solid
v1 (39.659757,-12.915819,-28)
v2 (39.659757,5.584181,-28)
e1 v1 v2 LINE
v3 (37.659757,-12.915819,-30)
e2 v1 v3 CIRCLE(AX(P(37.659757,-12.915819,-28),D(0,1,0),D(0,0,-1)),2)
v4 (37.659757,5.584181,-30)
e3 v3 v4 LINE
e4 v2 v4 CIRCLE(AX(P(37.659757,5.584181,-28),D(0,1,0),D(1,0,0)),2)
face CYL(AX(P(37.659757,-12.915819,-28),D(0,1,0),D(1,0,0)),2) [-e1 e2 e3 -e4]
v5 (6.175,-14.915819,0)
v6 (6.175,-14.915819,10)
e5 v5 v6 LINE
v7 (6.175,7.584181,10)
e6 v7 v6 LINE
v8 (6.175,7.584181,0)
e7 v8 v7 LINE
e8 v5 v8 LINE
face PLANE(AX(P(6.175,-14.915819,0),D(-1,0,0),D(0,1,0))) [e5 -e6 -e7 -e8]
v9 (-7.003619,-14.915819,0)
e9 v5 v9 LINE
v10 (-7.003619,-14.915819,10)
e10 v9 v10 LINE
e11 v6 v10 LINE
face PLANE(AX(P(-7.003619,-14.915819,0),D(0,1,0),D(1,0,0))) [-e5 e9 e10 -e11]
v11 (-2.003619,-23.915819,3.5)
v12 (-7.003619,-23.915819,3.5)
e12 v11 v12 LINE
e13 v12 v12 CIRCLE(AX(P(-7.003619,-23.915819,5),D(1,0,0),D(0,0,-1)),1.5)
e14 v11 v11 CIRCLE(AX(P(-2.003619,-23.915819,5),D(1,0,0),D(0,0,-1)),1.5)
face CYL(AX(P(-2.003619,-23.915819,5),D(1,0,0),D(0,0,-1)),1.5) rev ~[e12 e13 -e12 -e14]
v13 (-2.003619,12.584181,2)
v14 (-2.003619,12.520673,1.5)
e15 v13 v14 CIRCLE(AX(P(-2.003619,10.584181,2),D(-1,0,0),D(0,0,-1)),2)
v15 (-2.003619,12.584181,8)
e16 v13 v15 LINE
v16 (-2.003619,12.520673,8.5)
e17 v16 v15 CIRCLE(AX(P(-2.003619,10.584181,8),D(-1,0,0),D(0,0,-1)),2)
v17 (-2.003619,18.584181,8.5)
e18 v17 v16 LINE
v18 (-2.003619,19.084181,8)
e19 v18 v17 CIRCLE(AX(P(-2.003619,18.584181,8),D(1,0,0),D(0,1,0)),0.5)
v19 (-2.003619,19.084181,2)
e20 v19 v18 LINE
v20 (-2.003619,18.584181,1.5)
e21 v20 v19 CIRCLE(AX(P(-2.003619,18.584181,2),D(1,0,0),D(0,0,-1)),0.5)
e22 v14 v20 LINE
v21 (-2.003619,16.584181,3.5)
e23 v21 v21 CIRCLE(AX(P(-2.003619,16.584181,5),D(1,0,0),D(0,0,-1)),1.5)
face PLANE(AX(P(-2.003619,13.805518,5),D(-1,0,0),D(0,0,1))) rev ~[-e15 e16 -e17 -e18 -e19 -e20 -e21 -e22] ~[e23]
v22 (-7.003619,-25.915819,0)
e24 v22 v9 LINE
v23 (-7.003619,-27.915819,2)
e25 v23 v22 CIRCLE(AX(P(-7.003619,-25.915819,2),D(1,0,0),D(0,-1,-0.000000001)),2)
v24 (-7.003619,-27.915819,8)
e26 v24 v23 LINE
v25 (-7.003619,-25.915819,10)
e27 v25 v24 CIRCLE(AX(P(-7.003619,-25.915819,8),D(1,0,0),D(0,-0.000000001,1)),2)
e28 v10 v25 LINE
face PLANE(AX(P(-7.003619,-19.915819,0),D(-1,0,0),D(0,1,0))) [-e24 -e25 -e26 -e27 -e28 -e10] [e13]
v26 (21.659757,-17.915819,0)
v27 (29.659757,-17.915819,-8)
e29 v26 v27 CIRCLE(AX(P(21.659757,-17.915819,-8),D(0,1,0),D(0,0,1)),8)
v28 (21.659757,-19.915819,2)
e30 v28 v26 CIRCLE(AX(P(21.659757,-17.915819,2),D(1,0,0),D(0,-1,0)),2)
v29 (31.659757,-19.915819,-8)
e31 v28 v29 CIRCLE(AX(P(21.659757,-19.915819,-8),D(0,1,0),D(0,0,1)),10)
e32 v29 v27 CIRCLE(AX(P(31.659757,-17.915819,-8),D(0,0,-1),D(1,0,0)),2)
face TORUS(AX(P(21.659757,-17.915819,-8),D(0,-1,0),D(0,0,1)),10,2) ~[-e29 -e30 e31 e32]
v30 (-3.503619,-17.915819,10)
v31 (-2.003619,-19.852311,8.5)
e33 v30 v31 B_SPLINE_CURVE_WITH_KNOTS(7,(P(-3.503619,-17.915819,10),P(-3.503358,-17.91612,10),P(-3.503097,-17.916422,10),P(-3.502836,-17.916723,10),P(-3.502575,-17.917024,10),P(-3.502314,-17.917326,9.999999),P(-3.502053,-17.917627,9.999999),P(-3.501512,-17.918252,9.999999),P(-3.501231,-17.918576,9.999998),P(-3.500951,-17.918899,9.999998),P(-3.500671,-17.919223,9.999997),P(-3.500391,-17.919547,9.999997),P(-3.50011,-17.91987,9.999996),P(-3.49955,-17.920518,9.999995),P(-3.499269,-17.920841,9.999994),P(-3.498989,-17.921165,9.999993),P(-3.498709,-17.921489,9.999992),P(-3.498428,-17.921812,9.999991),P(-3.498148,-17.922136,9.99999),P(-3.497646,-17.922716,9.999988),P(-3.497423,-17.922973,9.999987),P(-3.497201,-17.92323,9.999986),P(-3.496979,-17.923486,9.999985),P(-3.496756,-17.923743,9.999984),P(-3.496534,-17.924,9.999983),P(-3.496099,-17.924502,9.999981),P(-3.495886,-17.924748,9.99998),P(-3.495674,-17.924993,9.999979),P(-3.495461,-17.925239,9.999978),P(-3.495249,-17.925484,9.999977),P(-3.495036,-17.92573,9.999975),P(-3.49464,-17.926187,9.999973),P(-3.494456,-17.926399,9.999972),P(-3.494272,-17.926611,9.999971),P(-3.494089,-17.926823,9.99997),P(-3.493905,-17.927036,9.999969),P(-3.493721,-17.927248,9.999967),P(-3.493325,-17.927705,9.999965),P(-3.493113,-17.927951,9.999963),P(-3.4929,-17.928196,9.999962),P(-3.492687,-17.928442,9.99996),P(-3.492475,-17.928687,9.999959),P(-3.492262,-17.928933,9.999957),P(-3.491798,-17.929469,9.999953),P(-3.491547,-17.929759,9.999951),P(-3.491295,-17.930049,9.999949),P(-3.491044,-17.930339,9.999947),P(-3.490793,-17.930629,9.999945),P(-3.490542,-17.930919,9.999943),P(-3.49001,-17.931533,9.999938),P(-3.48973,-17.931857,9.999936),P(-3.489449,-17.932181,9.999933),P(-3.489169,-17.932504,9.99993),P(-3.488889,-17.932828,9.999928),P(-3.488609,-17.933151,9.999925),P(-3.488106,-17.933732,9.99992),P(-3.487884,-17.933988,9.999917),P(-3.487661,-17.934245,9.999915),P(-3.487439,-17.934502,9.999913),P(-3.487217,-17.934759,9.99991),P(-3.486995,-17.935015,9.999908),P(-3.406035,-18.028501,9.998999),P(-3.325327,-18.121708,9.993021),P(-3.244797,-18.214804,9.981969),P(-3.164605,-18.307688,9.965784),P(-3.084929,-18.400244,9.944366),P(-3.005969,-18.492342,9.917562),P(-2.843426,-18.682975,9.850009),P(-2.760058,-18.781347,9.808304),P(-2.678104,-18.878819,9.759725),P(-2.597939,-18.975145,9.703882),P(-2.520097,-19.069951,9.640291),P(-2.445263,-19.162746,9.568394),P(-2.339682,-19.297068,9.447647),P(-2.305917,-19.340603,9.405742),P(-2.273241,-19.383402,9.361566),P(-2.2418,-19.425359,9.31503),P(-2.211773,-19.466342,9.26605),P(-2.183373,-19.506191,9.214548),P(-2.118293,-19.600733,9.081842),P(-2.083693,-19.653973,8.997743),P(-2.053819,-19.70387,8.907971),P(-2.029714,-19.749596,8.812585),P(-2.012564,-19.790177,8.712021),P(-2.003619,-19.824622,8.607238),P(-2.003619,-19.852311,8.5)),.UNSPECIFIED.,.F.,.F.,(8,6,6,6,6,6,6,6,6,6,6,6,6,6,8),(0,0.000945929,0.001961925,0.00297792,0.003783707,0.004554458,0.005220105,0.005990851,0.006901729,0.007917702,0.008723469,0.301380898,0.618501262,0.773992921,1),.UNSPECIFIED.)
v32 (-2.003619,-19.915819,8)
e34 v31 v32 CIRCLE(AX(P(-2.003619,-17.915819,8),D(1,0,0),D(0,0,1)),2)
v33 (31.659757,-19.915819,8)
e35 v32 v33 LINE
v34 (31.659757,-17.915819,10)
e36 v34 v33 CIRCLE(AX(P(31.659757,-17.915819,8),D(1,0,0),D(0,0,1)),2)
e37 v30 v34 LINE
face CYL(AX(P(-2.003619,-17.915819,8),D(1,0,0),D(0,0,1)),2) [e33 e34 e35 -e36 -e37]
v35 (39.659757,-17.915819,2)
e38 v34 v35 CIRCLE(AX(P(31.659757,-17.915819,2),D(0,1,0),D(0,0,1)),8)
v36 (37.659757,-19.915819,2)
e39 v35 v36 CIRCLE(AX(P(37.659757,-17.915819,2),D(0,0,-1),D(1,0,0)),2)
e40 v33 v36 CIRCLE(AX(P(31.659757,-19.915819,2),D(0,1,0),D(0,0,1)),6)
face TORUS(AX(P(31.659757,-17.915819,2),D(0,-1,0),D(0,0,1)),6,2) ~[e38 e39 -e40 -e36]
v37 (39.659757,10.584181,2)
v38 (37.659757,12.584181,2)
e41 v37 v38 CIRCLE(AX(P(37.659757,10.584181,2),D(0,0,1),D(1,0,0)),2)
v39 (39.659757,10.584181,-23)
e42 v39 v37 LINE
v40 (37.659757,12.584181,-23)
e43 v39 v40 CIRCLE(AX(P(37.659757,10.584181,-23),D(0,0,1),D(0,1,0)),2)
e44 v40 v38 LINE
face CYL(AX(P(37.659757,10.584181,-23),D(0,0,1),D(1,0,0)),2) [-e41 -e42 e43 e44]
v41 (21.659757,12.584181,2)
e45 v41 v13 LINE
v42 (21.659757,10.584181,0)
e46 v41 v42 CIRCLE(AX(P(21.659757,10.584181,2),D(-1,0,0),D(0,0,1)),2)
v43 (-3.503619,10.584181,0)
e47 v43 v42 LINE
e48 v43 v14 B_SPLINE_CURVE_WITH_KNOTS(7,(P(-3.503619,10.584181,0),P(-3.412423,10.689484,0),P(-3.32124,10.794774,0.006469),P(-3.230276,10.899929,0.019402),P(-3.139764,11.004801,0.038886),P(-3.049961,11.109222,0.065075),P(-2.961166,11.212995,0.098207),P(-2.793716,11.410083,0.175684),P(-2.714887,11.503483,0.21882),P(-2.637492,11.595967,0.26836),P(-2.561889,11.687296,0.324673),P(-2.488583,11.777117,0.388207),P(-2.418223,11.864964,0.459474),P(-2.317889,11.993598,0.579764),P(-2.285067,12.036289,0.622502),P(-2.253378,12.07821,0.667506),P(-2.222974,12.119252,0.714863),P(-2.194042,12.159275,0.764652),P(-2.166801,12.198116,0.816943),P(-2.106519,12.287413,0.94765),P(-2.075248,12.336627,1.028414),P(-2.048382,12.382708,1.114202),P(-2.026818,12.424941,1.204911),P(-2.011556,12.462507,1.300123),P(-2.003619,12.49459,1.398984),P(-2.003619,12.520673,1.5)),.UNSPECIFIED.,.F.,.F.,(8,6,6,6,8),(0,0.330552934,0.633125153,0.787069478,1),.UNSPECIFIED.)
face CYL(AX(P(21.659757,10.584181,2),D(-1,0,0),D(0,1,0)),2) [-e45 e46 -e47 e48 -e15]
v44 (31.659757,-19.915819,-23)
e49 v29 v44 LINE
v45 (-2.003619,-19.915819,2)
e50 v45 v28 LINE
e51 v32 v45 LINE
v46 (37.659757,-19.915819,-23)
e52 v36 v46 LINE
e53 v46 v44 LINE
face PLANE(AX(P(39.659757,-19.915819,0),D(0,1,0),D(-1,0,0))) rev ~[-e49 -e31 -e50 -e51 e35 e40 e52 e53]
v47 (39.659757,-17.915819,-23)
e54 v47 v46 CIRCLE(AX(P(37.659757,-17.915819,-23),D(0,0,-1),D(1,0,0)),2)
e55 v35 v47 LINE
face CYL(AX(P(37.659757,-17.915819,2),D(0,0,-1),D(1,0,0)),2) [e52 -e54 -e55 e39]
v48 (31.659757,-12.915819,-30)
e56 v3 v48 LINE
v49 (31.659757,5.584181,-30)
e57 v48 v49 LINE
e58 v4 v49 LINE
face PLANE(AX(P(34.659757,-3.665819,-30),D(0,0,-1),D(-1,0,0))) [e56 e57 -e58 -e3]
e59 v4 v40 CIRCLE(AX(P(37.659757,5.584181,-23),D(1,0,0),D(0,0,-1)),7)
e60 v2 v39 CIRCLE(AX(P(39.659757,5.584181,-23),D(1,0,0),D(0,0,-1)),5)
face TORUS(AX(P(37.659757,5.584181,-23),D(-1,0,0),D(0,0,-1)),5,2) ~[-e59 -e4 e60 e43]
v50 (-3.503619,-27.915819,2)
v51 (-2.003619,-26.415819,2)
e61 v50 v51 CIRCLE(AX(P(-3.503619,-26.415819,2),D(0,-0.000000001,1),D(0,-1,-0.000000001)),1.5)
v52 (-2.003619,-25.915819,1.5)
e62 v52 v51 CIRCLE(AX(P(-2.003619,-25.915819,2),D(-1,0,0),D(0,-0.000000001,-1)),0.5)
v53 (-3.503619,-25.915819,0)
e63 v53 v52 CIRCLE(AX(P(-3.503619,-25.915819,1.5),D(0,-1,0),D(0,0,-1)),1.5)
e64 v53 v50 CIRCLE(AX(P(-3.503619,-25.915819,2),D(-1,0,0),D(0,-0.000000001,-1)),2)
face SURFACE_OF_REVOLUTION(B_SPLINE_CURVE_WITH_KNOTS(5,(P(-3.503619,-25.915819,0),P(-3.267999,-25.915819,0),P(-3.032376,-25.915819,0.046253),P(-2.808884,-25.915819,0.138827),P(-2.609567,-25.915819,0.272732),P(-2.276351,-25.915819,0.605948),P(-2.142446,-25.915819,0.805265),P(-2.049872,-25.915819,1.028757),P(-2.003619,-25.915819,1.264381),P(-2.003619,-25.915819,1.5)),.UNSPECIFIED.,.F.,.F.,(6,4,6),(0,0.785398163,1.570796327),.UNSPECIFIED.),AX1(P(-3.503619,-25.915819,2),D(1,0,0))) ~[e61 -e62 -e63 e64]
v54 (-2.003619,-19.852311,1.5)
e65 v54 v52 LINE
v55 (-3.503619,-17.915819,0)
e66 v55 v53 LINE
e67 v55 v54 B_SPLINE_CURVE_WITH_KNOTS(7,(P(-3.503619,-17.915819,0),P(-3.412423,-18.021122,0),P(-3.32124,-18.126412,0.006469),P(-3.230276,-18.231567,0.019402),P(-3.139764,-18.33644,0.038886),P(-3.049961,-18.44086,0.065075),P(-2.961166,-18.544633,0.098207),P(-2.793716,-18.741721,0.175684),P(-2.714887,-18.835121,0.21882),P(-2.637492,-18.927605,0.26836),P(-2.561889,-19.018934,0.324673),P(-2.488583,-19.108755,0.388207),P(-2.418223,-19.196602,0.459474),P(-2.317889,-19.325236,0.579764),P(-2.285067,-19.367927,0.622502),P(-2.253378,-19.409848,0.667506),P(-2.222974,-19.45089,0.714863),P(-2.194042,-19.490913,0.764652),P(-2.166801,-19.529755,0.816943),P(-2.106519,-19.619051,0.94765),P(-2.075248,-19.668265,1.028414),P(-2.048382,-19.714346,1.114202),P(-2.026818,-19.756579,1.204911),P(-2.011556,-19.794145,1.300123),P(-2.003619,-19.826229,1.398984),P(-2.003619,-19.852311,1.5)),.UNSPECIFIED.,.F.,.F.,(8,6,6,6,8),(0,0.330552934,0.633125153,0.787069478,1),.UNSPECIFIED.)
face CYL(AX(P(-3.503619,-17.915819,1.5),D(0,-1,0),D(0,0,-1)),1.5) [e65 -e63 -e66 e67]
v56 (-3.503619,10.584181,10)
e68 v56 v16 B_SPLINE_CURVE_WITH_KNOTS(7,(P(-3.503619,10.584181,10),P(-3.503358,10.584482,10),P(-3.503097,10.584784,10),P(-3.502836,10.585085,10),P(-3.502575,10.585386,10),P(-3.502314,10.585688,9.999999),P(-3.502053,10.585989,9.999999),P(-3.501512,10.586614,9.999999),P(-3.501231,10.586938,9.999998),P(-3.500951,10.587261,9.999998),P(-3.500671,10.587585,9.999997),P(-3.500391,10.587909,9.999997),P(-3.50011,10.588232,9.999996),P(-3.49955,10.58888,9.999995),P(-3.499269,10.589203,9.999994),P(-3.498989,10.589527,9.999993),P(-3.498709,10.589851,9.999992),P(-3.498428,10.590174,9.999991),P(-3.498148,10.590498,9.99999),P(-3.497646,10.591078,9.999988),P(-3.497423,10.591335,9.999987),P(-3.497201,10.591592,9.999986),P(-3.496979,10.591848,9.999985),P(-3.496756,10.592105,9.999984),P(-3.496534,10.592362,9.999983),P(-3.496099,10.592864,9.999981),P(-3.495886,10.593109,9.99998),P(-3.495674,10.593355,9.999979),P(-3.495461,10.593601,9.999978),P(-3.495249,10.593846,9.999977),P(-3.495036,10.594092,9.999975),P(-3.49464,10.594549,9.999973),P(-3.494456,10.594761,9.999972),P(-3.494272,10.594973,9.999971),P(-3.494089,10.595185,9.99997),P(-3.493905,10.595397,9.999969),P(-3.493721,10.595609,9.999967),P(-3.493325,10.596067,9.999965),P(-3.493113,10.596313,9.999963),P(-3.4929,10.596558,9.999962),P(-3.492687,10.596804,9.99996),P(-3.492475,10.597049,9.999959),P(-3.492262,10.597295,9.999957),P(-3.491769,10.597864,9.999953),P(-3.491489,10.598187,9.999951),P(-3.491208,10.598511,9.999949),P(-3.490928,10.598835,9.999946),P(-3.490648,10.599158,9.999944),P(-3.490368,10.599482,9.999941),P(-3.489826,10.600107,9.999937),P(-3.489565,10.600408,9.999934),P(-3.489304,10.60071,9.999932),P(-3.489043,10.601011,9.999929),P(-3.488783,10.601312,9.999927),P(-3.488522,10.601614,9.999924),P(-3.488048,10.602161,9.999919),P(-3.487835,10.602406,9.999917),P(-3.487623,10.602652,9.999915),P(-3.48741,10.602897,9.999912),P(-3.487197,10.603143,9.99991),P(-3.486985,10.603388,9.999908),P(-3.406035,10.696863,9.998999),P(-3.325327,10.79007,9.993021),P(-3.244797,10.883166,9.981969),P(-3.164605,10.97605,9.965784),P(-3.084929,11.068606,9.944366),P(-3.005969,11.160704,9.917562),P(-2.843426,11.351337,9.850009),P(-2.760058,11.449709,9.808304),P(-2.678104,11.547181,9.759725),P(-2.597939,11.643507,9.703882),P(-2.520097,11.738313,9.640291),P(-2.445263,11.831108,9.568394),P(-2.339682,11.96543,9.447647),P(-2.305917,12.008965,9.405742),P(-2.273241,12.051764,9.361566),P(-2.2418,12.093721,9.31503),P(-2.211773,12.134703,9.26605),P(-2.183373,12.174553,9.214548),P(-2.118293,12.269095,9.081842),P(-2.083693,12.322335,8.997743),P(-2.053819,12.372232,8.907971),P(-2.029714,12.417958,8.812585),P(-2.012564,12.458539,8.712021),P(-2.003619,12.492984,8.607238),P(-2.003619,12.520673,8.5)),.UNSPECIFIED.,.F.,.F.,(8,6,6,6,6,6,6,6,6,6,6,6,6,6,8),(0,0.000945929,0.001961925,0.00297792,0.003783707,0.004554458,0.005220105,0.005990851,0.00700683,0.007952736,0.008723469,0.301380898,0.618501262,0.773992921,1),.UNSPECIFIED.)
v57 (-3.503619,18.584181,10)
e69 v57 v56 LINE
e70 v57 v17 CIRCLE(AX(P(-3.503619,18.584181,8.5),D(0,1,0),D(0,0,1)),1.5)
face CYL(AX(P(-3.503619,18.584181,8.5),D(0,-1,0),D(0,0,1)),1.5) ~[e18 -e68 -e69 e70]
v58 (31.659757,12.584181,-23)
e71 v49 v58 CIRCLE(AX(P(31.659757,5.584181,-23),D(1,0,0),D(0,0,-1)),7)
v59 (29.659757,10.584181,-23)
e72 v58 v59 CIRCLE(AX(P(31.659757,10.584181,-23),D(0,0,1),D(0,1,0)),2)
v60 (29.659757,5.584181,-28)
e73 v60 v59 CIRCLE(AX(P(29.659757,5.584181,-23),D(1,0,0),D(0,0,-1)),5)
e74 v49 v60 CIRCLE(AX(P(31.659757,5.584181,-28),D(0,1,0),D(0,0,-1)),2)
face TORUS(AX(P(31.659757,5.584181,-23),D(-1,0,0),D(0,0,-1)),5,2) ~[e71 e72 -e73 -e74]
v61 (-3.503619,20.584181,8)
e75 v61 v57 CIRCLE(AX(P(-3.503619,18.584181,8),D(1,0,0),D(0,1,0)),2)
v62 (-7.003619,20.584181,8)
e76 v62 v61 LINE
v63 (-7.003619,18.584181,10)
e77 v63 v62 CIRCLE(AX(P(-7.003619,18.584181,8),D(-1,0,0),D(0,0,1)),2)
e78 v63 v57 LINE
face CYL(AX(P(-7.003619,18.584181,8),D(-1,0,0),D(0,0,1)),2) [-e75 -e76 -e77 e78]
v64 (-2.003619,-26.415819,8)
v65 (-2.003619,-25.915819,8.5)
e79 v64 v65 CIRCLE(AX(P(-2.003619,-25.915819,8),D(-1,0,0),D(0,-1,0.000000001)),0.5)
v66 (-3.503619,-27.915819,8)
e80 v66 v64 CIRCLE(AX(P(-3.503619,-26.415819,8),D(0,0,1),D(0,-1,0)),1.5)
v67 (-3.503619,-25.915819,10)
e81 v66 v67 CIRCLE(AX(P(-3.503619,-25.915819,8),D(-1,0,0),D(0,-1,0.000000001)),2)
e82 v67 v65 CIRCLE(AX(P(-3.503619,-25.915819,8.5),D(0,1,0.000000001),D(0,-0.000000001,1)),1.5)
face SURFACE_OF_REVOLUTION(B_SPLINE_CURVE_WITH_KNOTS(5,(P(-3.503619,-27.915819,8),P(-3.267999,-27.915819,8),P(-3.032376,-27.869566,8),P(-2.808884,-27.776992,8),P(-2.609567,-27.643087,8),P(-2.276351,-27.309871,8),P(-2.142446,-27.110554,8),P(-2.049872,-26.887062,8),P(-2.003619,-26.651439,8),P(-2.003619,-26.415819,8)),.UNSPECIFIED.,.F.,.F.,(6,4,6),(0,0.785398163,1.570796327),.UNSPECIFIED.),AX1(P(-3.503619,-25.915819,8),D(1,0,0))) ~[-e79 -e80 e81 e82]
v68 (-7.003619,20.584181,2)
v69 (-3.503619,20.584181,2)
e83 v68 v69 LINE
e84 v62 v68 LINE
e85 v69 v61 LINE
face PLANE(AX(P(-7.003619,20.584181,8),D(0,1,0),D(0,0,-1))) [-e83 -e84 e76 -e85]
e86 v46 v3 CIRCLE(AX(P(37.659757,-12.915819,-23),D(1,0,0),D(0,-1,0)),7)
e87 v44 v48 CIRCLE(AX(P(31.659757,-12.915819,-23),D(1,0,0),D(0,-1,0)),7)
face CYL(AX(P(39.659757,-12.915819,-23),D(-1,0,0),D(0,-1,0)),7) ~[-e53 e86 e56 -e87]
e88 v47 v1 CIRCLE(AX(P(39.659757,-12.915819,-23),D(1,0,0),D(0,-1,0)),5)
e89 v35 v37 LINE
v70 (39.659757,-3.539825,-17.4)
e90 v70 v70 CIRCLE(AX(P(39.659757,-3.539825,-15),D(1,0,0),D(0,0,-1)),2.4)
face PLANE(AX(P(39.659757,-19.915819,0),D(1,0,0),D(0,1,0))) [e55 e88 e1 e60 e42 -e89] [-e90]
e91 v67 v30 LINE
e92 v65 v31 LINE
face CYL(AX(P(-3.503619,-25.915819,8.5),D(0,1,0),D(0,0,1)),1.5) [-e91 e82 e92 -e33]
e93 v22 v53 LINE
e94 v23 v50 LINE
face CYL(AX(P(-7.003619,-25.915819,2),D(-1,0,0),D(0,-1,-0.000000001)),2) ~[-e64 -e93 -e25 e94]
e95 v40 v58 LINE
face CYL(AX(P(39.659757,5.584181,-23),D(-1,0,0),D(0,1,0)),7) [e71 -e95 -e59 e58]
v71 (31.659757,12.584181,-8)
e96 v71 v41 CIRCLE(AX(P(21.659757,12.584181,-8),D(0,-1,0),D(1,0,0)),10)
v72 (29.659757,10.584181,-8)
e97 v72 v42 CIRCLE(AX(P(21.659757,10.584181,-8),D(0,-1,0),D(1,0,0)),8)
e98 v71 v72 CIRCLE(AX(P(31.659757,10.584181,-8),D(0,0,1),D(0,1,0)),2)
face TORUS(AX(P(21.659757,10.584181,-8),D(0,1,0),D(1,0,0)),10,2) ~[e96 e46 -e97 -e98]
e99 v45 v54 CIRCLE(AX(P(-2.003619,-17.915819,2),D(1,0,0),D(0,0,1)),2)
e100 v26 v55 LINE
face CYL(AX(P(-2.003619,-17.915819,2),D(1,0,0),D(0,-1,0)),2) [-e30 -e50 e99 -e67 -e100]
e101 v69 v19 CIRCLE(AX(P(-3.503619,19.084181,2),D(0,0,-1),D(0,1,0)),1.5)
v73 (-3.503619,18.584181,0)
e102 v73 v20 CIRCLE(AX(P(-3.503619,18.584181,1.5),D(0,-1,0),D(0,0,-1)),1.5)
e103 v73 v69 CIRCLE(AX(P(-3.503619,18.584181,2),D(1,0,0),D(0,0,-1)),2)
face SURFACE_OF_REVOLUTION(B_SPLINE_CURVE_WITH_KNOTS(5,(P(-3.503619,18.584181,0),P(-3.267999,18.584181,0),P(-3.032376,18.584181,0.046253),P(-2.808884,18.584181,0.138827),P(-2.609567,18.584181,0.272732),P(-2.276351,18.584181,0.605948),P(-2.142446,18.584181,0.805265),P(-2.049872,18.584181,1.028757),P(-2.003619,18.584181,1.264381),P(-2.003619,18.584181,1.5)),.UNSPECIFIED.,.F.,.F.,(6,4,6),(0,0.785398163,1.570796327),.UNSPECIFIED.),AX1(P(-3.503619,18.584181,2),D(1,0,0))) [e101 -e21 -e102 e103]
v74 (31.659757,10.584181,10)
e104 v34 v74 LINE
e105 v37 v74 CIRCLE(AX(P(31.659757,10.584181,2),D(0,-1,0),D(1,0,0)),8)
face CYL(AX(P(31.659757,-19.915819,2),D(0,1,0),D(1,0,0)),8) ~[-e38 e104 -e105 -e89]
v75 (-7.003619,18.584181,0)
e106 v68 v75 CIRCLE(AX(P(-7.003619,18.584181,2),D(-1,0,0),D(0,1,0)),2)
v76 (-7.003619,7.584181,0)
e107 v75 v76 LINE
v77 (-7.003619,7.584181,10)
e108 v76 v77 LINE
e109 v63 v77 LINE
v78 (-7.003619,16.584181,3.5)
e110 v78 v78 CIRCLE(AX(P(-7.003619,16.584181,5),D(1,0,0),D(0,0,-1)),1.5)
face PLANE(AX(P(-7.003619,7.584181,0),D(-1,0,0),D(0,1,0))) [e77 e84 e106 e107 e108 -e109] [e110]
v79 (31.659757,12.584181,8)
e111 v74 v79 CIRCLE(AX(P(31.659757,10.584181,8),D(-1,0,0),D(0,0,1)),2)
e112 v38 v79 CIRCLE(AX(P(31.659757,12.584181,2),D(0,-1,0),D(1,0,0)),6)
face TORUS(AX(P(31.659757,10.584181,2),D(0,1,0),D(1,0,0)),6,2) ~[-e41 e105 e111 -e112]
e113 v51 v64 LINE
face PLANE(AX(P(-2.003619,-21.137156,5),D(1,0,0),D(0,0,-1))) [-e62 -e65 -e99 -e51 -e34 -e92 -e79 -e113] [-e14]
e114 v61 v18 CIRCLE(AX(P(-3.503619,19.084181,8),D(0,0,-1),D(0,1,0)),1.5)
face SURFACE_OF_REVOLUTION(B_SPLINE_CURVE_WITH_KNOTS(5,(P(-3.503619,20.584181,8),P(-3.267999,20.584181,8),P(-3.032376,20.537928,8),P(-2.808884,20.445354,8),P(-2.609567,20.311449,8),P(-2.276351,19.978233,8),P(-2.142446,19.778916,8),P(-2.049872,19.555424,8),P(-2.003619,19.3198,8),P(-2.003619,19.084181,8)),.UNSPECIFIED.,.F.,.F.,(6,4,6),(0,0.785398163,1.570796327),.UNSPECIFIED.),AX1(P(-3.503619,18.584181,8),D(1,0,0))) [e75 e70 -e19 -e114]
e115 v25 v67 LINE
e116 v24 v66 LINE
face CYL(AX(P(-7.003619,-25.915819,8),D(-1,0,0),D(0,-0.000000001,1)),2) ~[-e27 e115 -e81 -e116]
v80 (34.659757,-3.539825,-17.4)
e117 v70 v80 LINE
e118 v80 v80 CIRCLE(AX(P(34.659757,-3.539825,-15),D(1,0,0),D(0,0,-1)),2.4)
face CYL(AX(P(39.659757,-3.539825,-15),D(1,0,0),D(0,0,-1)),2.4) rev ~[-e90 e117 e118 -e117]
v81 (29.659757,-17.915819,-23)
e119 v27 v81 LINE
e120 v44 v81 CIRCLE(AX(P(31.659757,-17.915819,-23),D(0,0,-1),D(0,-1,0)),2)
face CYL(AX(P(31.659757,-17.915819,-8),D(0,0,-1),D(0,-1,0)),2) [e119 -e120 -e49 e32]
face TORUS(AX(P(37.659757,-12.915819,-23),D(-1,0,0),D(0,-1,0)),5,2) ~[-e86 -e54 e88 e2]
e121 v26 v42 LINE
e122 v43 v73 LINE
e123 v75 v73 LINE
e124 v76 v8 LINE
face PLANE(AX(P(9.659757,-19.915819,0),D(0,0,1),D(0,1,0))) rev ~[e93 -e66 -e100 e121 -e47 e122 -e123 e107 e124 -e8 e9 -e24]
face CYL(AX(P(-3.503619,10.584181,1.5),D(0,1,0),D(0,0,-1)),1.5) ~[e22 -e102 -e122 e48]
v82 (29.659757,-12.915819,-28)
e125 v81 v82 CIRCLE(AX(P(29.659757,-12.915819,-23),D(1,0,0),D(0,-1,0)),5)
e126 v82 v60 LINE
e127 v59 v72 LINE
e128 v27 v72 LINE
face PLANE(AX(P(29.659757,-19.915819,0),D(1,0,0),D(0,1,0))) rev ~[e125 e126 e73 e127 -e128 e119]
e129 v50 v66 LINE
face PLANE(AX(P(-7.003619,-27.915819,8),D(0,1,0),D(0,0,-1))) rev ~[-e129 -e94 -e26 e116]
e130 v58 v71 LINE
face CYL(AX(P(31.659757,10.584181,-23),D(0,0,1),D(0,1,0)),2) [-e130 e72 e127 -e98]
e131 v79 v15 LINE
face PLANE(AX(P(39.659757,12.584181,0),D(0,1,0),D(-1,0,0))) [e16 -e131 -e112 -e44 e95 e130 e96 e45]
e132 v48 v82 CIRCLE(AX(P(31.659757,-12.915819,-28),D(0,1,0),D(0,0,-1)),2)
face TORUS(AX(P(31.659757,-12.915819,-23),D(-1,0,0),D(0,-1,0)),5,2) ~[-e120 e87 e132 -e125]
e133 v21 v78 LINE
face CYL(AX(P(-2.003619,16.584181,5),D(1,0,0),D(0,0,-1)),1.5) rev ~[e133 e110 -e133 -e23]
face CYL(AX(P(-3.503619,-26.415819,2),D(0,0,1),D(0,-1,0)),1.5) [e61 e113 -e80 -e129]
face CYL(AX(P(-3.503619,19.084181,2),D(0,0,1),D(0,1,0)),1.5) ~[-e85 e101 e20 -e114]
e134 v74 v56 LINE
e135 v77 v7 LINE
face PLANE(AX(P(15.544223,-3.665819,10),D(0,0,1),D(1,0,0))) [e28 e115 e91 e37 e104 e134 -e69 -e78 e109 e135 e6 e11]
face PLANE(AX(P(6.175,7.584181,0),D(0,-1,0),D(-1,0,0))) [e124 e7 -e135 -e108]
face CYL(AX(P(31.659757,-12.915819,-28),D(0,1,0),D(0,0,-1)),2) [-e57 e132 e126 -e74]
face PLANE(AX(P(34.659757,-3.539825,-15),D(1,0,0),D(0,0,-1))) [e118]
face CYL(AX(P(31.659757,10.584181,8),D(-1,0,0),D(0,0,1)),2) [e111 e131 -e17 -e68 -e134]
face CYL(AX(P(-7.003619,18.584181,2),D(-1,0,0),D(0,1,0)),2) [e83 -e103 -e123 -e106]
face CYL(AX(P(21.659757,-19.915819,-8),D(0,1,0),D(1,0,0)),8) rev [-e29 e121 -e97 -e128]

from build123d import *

# Parameters (mm, degrees)
BOSS_EXTRUDE1_DEPTH = 15
SKETCH2_W           = 15
SKETCH2_H           = 32.5
BOSS_EXTRUDE2_DEPTH = 30
SKETCH3_W           = 10
SKETCH3_H           = 32.5
BOSS_EXTRUDE3_DEPTH = 30
SKETCH4_R           = 2.4
CUT_EXTRUDE1_DEPTH  = 5
CUT_EXTRUDE2_DEPTH  = 5
FILLET1_R           = 7
FILLET2_R           = 8
BOSS_EXTRUDE4_DEPTH = 5
SKETCH7_R           = 1.5
CUT_EXTRUDE3_DEPTH  = 6
FILLET3_R           = 2
FILLET4_R           = 1.5


with BuildPart() as part:
    # Sketch1 → Boss-Extrude1 (new body)
    with BuildSketch(Plane.XY):
        Polygon((-7.003618791, -14.915819089), (6.175, -14.915819089), (6.175, 7.584180911), (-7.003618791, 7.584180911), (-7.003618791, 12.584180911), (9.659757463, 12.584180911), (9.659757463, -19.915819089), (-7.003618791, -19.915819089), align=None)
    extrude(amount=BOSS_EXTRUDE1_DEPTH)

    # Sketch2 → Boss-Extrude2 (add)
    with BuildSketch(Plane(origin=(9.659757463, 0, 0), x_dir=(0, 0, -1), z_dir=(1, 0, 0))):
        with Locations((-7.5, -3.665819089)):
            Rectangle(SKETCH2_W, SKETCH2_H)
    extrude(amount=BOSS_EXTRUDE2_DEPTH)

    # Sketch3 → Boss-Extrude3 (add)
    with BuildSketch(Plane(origin=(0, 0, 0), x_dir=(-1, 0, 0), z_dir=(0, 0, -1))):
        with Locations((-34.659757463, -3.665819089)):
            Rectangle(SKETCH3_W, SKETCH3_H)
    extrude(amount=BOSS_EXTRUDE3_DEPTH)

    # Sketch4 → Cut-Extrude1 (cut)
    with BuildSketch(Plane(origin=(39.659757463, 0, 0), x_dir=(0, 0, -1), z_dir=(1, 0, 0))):
        with Locations((15, -3.53982496)):
            Circle(SKETCH4_R)
    extrude(amount=-CUT_EXTRUDE1_DEPTH, mode=Mode.SUBTRACT)

    # Sketch5 → Cut-Extrude2 (cut)
    with BuildSketch(Plane.XY.offset(15)):
        Polygon((39.659757463, 12.584180911), (-7.003618791, 12.584180911), (-7.003618791, 7.584180911), (6.175, 7.584180911), (6.175, -14.915819089), (-7.003618791, -14.915819089), (-7.003618791, -19.915819089), (39.659757463, -19.915819089), align=None)
    extrude(amount=-CUT_EXTRUDE2_DEPTH, mode=Mode.SUBTRACT)

    # Fillet1
    fillet1_edges = [part.edges().sort_by_distance(p)[0] for p in [
        (34.659757463, -19.915819089, -30),
        (34.659757463, 12.584180911, -30),
    ]]
    fillet(fillet1_edges, radius=FILLET1_R)

    # Fillet2
    fillet2_edges = [part.edges().sort_by_distance(p)[0] for p in [
        (29.659757463, -3.665819089, 0),
        (39.659757463, -3.665819089, 10),
    ]]
    fillet(fillet2_edges, radius=FILLET2_R)

    # Sketch6 → Boss-Extrude4 (add)
    with BuildSketch(Plane.ZY.offset(7.003618791)):
        with BuildLine():
            Line((0, 7.584180911), (10, 7.584180911))
            Line((10, 7.584180911), (10, 18.584180911))
            ThreePointArc((10, 18.584180911), (9.414213562, 19.998394474), (8, 20.584180911))
            Line((8, 20.584180911), (2, 20.584180911))
            ThreePointArc((2, 20.584180911), (0.585786438, 19.998394474), (0, 18.584180911))
            Line((0, 18.584180911), (0, 7.584180911))
        make_face()
        with BuildLine():
            Line((10, -14.915819089), (10, -25.915819089))
            ThreePointArc((10, -25.915819089), (9.414213562, -27.330032651), (8, -27.915819089))
            Line((8, -27.915819089), (2, -27.915819089))
            ThreePointArc((2, -27.915819089), (0.585786438, -27.330032651), (0, -25.915819089))
            Line((0, -25.915819089), (0, -14.915819089))
            Line((0, -14.915819089), (10, -14.915819089))
        make_face()
    extrude(amount=-BOSS_EXTRUDE4_DEPTH)

    # Sketch7 → Cut-Extrude3 (cut, through all)
    with BuildSketch(Plane(origin=(-2.003618791, 0, 0), x_dir=(0, 0, -1), z_dir=(1, 0, 0))):
        with Locations((-5, -23.915819089)):
            Circle(SKETCH7_R)
        with Locations((-5, 16.584180911)):
            Circle(SKETCH7_R)
    extrude(amount=-CUT_EXTRUDE3_DEPTH, mode=Mode.SUBTRACT)

    # Fillet3
    fillet3_edges = [part.edges().sort_by_distance(p)[0] for p in [
        (14.828069336, 12.584180911, 10),
        (9.828069336, 12.584180911, 0),
        (37.316611713, 12.584180911, 7.656854249),
        (39.659757463, -19.915819089, -10.5),
        (37.316611713, -19.915819089, 7.656854249),
        (27.316611713, 12.584180911, -2.343145751),
        (27.316611713, -19.915819089, -2.343145751),
        (14.828069336, -19.915819089, 10),
        (9.828069336, -19.915819089, 0),
        (39.659757463, -3.665819089, -30),
        (29.659757463, -3.665819089, -30),
        (39.659757463, 12.584180911, -10.5),
        (39.659757463, -17.865566557, -27.949747468),
        (39.659757463, 10.53392838, -27.949747468),
        (29.659757463, 12.584180911, -15.5),
        (29.659757463, -19.915819089, -15.5),
        (29.659757463, -17.865566557, -27.949747468),
        (29.659757463, 10.53392838, -27.949747468),
    ]]
    fillet(fillet3_edges, radius=FILLET3_R)

    # Fillet4
    fillet4_edges = [part.edges().sort_by_distance(p)[0] for p in [
        (-2.003618791, 15.584180911, 0),
        (-2.003618791, 15.584180911, 10),
        (-2.003618791, 19.998394474, 0.585786438),
        (-2.003618791, 20.584180911, 5),
        (-2.003618791, 19.998394474, 9.414213562),
        (-2.003618791, -22.915819089, 10),
        (-2.003618791, -22.915819089, 0),
        (-2.003618791, -27.330032651, 9.414213562),
        (-2.003618791, -27.915819089, 5),
        (-2.003618791, -27.330032651, 0.585786438),
    ]]
    fillet(fillet4_edges, radius=FILLET4_R)


solid = part.part
